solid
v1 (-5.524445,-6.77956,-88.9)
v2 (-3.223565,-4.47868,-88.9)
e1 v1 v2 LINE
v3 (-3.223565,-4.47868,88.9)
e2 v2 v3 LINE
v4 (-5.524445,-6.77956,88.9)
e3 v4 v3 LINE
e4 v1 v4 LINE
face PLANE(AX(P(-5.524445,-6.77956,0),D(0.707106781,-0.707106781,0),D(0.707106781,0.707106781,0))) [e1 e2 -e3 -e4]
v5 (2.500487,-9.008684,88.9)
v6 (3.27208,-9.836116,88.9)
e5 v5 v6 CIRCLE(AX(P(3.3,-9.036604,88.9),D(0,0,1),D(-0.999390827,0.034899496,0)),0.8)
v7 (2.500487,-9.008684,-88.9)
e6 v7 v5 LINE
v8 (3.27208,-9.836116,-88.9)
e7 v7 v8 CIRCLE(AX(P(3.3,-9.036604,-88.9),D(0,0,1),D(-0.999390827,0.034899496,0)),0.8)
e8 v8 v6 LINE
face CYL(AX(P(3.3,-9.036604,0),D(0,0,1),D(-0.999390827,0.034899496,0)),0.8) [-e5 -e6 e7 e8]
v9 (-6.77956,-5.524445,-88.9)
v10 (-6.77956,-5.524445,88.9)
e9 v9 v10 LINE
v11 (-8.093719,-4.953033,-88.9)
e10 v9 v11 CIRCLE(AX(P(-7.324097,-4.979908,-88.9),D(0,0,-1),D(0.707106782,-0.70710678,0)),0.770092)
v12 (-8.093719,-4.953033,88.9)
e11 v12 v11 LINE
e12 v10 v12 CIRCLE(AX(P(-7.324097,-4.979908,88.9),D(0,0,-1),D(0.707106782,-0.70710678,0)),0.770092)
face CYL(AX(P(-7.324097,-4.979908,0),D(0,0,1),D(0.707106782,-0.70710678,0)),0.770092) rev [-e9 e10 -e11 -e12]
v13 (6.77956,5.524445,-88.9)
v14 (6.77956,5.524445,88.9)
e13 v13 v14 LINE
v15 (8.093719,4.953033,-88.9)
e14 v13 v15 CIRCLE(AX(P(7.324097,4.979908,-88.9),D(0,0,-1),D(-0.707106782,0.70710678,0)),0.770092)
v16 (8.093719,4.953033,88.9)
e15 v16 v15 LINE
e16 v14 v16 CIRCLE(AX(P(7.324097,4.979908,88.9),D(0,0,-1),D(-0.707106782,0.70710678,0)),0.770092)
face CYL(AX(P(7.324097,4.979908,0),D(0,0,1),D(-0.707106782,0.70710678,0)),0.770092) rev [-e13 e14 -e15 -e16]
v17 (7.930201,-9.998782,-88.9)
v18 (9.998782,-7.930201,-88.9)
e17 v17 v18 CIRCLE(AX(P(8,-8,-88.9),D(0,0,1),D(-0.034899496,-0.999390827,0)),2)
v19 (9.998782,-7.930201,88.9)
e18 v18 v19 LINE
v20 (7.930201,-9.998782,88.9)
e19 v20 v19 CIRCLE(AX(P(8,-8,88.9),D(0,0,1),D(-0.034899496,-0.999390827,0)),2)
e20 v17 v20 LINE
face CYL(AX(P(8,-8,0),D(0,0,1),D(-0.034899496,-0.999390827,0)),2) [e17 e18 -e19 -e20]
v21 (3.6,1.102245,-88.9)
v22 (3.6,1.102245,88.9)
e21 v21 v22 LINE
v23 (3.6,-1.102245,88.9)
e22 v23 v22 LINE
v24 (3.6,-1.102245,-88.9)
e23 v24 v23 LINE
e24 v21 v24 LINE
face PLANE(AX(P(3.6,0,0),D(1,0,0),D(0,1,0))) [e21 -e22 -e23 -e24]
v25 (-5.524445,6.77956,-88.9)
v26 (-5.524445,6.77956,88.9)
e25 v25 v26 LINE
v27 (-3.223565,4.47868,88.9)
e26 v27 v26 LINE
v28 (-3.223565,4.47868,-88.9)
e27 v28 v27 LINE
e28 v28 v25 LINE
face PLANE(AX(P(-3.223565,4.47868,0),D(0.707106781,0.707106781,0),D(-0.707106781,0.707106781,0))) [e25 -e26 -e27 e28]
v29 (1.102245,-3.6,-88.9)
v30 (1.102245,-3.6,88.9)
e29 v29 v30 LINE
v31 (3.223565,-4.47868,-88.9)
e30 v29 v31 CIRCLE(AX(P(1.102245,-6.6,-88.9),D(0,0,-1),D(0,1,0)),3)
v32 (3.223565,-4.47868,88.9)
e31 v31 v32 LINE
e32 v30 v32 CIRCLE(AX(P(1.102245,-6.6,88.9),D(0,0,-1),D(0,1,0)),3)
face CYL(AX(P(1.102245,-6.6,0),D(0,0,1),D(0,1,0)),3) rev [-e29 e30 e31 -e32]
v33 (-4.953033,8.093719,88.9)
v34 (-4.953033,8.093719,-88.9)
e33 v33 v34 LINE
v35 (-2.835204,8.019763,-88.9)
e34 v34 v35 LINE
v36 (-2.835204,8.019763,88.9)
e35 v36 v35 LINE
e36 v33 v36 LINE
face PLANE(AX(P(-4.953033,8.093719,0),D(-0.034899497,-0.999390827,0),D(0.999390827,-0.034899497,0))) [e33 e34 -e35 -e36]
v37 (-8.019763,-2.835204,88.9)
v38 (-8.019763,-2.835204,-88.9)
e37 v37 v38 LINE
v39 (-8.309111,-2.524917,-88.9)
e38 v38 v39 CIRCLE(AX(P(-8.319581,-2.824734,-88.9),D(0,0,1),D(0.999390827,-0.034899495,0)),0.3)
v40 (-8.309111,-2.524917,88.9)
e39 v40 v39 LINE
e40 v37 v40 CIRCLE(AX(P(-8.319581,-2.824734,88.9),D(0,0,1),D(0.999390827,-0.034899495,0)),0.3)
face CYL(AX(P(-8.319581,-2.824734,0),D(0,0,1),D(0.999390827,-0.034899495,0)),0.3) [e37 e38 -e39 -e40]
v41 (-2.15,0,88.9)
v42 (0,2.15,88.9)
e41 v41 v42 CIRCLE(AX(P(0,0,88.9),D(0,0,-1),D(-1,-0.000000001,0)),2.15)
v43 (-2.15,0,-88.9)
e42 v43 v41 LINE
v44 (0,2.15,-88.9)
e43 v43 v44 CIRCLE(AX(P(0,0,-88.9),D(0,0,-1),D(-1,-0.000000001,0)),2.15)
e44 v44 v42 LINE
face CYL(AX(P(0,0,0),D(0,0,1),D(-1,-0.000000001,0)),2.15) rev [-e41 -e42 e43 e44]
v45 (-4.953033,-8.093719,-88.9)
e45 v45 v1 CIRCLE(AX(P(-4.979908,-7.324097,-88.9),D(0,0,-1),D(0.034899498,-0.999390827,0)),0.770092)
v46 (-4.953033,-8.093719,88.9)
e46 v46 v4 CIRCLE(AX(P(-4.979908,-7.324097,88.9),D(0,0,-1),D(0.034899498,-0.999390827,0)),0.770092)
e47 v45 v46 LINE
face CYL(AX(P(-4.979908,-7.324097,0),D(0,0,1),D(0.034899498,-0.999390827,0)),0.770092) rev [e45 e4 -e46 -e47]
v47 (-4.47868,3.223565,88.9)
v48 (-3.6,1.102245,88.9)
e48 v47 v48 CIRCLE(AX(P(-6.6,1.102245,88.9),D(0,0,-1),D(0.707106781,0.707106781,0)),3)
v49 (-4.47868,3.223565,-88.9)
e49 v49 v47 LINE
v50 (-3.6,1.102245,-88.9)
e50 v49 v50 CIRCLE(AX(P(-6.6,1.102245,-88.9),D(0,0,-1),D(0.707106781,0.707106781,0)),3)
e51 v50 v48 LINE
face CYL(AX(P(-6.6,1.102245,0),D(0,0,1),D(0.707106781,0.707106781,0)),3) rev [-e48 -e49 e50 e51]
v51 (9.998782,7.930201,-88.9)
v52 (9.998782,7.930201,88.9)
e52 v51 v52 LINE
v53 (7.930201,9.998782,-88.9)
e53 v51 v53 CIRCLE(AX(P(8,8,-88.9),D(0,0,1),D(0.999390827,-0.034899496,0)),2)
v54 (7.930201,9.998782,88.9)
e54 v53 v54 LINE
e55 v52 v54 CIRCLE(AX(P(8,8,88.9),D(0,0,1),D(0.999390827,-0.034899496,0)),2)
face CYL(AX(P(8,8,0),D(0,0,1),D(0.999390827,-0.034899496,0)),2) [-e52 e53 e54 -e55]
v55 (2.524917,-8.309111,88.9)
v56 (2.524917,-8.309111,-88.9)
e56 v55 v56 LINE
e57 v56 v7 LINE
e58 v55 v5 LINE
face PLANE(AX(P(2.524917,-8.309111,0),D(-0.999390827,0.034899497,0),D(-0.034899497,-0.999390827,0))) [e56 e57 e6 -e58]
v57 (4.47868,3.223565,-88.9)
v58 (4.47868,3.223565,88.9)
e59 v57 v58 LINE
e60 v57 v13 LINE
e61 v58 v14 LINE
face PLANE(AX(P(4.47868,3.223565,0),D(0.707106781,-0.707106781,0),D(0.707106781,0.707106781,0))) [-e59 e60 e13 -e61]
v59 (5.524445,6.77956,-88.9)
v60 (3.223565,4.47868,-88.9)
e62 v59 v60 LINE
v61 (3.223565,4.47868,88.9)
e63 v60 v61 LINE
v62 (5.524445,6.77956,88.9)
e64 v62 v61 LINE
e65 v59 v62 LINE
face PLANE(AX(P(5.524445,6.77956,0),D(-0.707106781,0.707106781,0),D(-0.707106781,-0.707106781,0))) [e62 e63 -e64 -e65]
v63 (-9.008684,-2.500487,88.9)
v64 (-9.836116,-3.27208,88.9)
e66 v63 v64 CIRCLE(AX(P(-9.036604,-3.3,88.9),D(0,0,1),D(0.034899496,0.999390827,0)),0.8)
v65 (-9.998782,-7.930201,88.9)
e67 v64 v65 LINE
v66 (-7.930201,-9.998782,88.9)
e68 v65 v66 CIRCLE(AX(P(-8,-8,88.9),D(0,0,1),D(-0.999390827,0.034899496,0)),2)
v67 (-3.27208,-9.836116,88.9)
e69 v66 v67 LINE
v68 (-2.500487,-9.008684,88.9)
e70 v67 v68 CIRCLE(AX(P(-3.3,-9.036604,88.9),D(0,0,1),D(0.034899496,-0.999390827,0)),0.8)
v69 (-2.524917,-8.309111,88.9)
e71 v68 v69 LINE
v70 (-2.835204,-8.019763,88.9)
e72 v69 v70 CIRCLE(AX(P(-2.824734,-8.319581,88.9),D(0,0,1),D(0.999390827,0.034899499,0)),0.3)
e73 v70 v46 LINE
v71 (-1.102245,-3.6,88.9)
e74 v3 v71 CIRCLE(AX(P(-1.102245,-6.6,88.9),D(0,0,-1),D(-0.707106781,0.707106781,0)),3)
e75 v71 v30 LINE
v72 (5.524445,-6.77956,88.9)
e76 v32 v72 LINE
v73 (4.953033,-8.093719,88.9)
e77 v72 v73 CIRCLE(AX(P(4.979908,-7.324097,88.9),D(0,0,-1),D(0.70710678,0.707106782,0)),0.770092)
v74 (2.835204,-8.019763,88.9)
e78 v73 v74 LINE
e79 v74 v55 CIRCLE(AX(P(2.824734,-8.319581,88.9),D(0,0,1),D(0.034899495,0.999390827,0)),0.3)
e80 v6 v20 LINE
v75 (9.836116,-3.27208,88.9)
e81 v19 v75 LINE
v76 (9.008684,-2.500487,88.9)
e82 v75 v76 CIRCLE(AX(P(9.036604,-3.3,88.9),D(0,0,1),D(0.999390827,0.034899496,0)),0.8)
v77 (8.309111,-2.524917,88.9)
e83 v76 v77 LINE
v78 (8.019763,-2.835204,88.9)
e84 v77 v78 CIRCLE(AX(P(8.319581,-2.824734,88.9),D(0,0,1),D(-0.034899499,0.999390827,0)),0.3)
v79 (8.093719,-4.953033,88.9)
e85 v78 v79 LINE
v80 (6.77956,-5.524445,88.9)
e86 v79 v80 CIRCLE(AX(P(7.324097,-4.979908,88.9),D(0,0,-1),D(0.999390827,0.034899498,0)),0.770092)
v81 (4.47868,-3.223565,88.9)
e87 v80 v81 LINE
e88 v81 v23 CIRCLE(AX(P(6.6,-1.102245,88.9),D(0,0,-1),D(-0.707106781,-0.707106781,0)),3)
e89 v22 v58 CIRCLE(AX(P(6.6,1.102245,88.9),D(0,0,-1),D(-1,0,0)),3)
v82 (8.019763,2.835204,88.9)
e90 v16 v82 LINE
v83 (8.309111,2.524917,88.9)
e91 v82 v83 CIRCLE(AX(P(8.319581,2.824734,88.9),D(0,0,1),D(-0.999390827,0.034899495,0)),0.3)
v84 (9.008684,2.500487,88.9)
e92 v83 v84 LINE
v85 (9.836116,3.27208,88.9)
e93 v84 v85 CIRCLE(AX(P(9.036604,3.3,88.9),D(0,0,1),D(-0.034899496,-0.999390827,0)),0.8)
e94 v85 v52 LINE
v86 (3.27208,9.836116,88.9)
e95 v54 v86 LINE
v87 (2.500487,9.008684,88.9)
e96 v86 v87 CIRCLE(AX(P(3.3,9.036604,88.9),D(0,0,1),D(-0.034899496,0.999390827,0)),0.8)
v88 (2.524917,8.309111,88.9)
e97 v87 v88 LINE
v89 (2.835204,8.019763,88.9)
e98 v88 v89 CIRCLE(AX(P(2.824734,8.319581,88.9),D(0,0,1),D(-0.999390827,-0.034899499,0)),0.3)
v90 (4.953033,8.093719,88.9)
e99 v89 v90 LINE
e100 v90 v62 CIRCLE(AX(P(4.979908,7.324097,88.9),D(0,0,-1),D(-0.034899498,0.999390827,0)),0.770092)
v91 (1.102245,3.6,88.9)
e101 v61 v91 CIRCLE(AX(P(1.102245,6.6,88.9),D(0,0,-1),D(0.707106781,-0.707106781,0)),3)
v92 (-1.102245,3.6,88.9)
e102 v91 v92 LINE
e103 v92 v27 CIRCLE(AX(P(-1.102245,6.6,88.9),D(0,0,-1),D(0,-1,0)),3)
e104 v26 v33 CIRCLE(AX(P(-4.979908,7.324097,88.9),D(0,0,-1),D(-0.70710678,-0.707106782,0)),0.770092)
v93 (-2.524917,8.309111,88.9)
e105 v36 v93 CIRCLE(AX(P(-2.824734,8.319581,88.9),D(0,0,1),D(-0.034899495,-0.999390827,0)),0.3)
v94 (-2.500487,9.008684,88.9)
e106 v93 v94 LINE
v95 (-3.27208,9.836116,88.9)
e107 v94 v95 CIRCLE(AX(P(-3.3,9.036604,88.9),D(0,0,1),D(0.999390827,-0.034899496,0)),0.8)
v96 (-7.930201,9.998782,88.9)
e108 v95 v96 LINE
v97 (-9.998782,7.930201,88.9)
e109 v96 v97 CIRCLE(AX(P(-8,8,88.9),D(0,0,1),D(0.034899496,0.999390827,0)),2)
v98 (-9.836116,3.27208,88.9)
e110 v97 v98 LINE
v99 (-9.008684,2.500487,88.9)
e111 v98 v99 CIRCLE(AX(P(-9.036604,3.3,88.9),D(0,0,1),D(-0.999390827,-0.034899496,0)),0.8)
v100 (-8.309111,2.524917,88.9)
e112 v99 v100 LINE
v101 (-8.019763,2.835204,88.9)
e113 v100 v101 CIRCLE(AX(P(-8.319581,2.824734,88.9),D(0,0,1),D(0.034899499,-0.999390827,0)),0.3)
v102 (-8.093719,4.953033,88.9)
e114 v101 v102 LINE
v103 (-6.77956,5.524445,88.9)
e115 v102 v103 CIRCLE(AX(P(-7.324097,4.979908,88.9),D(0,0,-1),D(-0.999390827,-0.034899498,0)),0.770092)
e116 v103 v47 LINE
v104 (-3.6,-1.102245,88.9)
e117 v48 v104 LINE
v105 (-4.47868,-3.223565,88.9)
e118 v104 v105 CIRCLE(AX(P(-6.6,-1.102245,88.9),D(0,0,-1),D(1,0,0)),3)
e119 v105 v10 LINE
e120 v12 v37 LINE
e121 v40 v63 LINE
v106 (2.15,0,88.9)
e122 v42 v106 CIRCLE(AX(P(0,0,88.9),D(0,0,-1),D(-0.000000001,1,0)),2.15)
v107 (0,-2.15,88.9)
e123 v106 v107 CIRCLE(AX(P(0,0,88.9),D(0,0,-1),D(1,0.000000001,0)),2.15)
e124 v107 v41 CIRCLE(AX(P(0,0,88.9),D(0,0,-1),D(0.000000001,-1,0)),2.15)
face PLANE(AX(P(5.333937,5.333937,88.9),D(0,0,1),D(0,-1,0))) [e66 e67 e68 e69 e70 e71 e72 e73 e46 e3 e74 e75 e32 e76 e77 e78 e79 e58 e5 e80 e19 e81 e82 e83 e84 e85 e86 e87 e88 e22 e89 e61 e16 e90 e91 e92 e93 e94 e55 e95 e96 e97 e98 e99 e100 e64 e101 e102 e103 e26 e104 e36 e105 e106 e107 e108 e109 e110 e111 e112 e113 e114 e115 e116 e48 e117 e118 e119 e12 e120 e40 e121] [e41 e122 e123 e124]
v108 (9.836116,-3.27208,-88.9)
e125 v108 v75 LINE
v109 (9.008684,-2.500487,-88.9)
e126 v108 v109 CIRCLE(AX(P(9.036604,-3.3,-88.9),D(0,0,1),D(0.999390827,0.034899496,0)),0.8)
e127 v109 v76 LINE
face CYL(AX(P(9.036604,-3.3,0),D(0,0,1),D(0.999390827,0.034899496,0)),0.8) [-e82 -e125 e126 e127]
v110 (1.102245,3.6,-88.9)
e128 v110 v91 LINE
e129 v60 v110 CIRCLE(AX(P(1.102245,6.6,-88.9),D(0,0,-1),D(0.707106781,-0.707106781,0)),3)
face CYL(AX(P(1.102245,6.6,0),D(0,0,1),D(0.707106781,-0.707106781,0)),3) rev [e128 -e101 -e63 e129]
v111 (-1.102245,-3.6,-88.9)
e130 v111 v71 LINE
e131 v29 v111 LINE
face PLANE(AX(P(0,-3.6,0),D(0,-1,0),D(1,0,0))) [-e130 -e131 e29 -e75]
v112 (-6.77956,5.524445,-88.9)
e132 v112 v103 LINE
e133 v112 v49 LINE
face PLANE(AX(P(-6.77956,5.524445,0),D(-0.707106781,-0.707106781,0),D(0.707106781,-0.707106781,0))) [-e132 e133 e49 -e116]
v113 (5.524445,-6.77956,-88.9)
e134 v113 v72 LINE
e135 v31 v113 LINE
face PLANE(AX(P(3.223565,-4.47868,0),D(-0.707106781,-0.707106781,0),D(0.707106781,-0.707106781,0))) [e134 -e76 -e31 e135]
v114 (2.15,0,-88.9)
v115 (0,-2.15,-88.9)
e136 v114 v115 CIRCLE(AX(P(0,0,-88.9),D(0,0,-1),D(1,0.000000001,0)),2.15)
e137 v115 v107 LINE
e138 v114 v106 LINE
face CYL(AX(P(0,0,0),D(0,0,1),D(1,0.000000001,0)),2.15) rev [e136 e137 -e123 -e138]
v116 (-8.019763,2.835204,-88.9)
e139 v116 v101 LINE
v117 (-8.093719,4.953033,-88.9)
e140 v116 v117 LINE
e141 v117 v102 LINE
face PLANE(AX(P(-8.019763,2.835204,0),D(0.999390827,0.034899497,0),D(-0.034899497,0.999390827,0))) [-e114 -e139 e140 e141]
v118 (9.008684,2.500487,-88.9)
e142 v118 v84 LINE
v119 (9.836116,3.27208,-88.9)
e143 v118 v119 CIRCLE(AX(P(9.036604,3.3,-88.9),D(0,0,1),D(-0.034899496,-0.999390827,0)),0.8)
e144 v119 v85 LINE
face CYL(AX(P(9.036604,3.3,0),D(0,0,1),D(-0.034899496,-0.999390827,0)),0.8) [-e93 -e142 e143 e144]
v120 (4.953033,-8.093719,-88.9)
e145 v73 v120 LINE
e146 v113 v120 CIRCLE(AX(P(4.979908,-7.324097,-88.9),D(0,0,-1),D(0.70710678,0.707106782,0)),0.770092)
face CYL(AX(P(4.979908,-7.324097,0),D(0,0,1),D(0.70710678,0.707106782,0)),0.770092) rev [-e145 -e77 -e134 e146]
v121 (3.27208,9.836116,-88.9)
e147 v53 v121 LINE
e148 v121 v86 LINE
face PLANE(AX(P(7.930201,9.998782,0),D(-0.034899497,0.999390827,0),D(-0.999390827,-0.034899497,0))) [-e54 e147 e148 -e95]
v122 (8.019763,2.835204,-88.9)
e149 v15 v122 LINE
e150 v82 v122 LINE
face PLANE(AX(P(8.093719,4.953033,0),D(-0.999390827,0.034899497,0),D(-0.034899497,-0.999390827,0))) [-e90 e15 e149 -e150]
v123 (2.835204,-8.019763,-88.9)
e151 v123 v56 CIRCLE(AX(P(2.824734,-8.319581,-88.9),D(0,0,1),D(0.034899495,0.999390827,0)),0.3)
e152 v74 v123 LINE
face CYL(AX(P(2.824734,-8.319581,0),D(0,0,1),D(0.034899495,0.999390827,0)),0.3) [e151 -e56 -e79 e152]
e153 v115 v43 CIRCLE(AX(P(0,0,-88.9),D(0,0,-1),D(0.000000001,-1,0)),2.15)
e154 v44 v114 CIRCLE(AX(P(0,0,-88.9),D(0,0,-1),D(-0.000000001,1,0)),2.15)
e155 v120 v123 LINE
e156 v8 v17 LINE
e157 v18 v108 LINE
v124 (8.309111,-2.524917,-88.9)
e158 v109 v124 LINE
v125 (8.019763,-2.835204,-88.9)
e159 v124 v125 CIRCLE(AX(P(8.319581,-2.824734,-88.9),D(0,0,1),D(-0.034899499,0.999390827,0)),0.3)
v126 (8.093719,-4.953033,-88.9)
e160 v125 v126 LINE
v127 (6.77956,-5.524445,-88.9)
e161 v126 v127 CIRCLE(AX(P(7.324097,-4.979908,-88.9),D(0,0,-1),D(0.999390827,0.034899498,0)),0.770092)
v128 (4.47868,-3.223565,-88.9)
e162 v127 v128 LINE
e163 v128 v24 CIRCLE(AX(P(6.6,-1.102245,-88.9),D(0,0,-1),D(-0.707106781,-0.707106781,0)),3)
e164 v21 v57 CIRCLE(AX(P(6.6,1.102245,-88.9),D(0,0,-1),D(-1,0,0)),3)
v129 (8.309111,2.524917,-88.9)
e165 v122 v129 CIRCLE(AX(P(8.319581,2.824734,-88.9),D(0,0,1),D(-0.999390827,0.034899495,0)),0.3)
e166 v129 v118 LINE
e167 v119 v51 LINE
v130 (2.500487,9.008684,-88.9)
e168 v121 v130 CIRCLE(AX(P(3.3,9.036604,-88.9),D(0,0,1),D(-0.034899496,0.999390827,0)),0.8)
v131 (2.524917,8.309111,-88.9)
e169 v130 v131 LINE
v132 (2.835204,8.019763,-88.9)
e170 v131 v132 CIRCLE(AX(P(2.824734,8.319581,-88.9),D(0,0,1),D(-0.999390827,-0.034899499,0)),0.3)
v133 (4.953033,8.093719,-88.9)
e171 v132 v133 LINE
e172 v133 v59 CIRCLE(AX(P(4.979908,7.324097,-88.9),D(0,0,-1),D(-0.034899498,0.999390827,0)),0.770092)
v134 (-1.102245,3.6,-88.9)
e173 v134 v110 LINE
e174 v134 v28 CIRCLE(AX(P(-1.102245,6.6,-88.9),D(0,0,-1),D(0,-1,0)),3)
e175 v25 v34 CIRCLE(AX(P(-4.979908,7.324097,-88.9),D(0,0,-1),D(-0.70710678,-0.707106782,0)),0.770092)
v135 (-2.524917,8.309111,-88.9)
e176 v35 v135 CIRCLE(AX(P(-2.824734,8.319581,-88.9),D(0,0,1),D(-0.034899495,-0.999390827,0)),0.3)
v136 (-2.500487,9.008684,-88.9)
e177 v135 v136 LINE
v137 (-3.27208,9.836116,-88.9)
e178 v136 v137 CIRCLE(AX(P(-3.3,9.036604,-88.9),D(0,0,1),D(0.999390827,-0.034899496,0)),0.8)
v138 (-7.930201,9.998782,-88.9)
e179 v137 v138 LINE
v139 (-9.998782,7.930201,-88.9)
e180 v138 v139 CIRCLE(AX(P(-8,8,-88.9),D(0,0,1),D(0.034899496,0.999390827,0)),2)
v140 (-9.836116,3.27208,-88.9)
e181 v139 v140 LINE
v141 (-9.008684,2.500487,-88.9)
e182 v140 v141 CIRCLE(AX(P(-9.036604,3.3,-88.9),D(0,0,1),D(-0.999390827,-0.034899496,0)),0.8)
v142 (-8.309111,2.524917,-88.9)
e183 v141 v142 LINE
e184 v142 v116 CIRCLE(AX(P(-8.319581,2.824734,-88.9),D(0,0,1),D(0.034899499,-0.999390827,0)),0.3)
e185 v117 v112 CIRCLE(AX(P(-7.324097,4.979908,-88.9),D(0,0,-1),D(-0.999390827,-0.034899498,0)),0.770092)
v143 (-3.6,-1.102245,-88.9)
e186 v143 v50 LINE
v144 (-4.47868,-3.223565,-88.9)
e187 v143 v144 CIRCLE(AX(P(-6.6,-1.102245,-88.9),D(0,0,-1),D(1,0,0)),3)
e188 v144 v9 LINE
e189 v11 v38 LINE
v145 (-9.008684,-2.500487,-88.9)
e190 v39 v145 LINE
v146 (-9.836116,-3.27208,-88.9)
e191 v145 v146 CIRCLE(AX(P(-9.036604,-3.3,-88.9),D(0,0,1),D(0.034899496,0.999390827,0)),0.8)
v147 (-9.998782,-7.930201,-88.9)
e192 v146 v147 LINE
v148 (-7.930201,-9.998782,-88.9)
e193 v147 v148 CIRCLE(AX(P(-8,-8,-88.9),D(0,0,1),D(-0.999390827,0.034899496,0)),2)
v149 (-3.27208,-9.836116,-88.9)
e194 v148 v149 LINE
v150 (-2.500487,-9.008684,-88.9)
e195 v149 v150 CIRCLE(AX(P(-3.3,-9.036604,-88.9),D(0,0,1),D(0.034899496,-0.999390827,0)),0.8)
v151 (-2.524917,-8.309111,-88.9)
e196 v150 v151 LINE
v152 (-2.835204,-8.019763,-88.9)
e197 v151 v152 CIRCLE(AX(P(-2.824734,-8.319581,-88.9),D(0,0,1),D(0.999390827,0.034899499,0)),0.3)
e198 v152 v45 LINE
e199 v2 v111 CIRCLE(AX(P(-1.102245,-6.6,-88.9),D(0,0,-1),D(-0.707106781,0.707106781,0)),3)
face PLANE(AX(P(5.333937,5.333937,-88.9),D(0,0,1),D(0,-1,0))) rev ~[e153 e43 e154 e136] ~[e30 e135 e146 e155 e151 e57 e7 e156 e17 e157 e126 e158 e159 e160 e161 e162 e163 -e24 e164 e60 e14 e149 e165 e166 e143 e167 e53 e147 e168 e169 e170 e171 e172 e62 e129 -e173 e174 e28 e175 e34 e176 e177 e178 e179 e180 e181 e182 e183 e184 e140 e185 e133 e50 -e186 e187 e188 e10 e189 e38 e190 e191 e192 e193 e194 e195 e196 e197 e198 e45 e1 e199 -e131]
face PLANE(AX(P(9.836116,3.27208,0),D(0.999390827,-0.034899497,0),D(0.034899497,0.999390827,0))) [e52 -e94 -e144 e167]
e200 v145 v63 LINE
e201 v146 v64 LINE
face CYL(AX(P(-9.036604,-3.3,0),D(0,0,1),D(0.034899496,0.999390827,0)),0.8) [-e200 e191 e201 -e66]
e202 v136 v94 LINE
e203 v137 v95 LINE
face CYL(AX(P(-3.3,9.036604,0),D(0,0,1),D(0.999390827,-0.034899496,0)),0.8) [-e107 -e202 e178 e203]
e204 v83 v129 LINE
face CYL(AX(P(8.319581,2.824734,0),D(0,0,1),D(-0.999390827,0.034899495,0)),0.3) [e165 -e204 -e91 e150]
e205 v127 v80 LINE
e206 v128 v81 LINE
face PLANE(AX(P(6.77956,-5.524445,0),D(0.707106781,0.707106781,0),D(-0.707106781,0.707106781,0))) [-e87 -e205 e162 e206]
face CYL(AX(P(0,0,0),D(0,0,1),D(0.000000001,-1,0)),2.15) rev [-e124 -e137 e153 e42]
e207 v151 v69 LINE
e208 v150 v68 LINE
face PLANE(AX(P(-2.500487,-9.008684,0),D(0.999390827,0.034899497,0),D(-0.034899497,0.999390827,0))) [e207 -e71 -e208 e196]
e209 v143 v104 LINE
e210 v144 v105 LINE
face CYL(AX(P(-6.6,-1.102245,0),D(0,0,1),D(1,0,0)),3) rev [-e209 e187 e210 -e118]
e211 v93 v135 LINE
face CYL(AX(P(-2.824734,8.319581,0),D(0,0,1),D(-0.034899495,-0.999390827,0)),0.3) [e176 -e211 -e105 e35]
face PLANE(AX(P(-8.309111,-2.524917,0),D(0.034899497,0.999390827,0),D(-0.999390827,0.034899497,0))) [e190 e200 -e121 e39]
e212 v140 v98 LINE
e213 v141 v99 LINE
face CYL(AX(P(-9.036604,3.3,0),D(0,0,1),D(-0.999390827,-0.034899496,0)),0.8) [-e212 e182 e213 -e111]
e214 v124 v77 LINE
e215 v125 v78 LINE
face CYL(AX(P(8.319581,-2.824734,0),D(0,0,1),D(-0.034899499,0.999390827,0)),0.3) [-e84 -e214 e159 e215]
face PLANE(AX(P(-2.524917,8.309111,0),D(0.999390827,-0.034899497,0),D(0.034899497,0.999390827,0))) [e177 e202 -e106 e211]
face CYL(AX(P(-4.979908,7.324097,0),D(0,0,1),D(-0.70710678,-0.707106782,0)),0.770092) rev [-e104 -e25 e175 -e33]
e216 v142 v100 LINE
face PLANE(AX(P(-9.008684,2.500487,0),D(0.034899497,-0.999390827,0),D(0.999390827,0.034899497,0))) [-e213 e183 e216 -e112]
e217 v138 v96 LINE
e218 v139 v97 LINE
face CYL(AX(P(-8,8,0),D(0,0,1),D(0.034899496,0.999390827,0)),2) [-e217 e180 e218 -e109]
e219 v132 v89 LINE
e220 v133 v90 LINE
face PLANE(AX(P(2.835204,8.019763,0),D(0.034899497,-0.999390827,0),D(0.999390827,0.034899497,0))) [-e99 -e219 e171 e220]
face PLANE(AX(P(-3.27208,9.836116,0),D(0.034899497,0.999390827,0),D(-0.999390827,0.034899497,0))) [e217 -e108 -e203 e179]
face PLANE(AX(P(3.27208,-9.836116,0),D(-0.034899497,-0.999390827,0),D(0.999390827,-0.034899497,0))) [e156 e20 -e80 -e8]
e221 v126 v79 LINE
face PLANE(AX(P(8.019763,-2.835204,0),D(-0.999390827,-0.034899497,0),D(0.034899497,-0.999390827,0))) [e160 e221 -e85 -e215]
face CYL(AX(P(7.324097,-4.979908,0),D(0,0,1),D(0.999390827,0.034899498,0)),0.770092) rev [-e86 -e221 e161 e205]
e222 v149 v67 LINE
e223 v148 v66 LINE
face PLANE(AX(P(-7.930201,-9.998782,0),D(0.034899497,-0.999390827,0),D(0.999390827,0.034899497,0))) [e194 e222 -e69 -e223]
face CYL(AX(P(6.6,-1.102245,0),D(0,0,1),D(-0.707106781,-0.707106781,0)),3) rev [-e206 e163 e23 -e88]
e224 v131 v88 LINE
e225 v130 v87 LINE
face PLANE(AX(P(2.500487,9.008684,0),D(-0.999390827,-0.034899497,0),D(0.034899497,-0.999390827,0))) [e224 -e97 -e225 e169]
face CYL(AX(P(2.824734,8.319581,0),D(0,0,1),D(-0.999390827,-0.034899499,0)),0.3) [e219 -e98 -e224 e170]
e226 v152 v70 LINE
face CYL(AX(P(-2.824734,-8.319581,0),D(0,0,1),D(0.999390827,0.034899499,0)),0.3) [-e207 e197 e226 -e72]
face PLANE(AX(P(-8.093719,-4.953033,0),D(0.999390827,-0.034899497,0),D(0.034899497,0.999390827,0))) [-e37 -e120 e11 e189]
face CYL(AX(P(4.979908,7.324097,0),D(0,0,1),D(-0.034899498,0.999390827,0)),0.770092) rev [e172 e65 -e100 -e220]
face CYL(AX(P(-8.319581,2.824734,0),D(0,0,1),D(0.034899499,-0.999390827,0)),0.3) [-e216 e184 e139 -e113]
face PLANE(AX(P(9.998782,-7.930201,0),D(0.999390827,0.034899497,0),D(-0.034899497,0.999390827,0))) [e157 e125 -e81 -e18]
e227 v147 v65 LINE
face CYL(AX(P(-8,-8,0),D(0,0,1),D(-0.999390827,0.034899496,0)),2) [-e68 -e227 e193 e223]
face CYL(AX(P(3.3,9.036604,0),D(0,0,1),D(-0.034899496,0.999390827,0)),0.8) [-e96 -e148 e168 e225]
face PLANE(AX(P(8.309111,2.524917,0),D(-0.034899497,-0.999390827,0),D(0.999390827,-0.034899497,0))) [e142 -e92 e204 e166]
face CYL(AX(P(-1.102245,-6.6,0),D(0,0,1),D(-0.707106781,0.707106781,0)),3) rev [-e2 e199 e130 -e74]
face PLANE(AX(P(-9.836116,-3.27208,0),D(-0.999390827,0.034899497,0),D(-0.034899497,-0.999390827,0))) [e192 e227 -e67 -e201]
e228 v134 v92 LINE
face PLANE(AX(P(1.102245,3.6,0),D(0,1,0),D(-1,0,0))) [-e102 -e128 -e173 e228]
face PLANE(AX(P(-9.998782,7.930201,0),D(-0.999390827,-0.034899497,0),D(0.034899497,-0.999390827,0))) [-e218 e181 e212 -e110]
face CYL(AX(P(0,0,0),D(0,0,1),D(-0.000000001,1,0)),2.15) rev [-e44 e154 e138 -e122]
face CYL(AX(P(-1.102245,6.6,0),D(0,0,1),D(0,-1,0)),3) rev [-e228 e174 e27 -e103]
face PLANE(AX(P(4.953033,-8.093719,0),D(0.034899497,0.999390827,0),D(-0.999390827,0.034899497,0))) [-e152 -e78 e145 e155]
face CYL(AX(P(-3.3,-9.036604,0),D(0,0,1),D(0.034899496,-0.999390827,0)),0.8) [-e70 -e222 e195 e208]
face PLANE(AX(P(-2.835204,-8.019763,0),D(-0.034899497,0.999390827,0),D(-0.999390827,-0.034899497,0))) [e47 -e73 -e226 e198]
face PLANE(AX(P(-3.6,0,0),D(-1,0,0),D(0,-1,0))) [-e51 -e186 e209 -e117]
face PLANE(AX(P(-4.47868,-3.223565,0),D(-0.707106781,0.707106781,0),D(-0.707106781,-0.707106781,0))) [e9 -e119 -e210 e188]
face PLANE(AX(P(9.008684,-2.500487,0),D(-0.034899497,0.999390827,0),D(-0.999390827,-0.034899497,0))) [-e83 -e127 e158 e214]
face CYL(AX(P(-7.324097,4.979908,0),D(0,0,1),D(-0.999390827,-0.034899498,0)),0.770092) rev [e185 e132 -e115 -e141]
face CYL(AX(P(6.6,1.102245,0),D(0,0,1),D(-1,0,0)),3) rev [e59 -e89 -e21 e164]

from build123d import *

# Parameters (mm, degrees)
BOSS_EXTRUDE1_DEPTH = 88.9
CIRPATTERN1_COUNT   = 4


with BuildPart() as part:
    # Sketch3 → Boss-Extrude1 (new, symmetric)
    with BuildSketch(Plane.XY):
        with BuildLine():
            Line((-2.524916986, 8.30911066), (-2.500487338, 9.008684239))
            ThreePointArc((-2.500487338, 9.008684239), (-2.714917039, 9.582202525), (-3.272080403, 9.836116498))
            Line((-3.272080403, 9.836116498), (-7.930201007, 9.998781654))
            ThreePointArc((-7.930201007, 9.998781654), (-9.414213562, 9.414213562), (-9.998781654, 7.930201007))
            Line((-9.998781654, 7.930201007), (-9.836116498, 3.272080403))
            ThreePointArc((-9.836116498, 3.272080403), (-9.582202525, 2.714917039), (-9.008684239, 2.500487338))
            Line((-9.008684239, 2.500487338), (-8.30911066, 2.524916986))
            ThreePointArc((-8.30911066, 2.524916986), (-8.100174399, 2.620134726), (-8.019763261, 2.835204083))
            Line((-8.019763261, 2.835204083), (-8.093719461, 4.953032548))
            ThreePointArc((-8.093719461, 4.953032548), (-7.631170264, 5.686128657), (-6.779559917, 5.52444538))
            Line((-6.779559917, 5.52444538), (-4.478679656, 3.22356512))
            ThreePointArc((-4.478679656, 3.22356512), (-3.828361402, 2.250295073), (-3.6, 1.102244776))
            Line((-3.6, 1.102244776), (-3.6, 0))
            Line((-3.6, 0), (-2.15, 0))
            ThreePointArc((-2.15, 0), (-1.52027958, 1.52027958), (0, 2.15))
            Line((0, 2.15), (0, 3.6))
            Line((0, 3.6), (-1.102244776, 3.6))
            ThreePointArc((-1.102244776, 3.6), (-2.250295073, 3.828361402), (-3.22356512, 4.478679656))
            Line((-3.22356512, 4.478679656), (-5.52444538, 6.779559917))
            ThreePointArc((-5.52444538, 6.779559917), (-5.686128657, 7.631170264), (-4.953032548, 8.093719461))
            Line((-4.953032548, 8.093719461), (-2.835204083, 8.019763261))
            ThreePointArc((-2.835204083, 8.019763261), (-2.620134726, 8.100174399), (-2.524916986, 8.30911066))
        make_face()
    boss_extrude1 = extrude(amount=BOSS_EXTRUDE1_DEPTH, both=True)

    # CirPattern1: Boss-Extrude1 ×4 about axis
    cirpattern1_axis = Axis((0, 0, 0), (0, 0, 1))
    for i in range(1, CIRPATTERN1_COUNT):
        add(boss_extrude1.rotate(cirpattern1_axis, i * 360 / CIRPATTERN1_COUNT))


solid = part.part
